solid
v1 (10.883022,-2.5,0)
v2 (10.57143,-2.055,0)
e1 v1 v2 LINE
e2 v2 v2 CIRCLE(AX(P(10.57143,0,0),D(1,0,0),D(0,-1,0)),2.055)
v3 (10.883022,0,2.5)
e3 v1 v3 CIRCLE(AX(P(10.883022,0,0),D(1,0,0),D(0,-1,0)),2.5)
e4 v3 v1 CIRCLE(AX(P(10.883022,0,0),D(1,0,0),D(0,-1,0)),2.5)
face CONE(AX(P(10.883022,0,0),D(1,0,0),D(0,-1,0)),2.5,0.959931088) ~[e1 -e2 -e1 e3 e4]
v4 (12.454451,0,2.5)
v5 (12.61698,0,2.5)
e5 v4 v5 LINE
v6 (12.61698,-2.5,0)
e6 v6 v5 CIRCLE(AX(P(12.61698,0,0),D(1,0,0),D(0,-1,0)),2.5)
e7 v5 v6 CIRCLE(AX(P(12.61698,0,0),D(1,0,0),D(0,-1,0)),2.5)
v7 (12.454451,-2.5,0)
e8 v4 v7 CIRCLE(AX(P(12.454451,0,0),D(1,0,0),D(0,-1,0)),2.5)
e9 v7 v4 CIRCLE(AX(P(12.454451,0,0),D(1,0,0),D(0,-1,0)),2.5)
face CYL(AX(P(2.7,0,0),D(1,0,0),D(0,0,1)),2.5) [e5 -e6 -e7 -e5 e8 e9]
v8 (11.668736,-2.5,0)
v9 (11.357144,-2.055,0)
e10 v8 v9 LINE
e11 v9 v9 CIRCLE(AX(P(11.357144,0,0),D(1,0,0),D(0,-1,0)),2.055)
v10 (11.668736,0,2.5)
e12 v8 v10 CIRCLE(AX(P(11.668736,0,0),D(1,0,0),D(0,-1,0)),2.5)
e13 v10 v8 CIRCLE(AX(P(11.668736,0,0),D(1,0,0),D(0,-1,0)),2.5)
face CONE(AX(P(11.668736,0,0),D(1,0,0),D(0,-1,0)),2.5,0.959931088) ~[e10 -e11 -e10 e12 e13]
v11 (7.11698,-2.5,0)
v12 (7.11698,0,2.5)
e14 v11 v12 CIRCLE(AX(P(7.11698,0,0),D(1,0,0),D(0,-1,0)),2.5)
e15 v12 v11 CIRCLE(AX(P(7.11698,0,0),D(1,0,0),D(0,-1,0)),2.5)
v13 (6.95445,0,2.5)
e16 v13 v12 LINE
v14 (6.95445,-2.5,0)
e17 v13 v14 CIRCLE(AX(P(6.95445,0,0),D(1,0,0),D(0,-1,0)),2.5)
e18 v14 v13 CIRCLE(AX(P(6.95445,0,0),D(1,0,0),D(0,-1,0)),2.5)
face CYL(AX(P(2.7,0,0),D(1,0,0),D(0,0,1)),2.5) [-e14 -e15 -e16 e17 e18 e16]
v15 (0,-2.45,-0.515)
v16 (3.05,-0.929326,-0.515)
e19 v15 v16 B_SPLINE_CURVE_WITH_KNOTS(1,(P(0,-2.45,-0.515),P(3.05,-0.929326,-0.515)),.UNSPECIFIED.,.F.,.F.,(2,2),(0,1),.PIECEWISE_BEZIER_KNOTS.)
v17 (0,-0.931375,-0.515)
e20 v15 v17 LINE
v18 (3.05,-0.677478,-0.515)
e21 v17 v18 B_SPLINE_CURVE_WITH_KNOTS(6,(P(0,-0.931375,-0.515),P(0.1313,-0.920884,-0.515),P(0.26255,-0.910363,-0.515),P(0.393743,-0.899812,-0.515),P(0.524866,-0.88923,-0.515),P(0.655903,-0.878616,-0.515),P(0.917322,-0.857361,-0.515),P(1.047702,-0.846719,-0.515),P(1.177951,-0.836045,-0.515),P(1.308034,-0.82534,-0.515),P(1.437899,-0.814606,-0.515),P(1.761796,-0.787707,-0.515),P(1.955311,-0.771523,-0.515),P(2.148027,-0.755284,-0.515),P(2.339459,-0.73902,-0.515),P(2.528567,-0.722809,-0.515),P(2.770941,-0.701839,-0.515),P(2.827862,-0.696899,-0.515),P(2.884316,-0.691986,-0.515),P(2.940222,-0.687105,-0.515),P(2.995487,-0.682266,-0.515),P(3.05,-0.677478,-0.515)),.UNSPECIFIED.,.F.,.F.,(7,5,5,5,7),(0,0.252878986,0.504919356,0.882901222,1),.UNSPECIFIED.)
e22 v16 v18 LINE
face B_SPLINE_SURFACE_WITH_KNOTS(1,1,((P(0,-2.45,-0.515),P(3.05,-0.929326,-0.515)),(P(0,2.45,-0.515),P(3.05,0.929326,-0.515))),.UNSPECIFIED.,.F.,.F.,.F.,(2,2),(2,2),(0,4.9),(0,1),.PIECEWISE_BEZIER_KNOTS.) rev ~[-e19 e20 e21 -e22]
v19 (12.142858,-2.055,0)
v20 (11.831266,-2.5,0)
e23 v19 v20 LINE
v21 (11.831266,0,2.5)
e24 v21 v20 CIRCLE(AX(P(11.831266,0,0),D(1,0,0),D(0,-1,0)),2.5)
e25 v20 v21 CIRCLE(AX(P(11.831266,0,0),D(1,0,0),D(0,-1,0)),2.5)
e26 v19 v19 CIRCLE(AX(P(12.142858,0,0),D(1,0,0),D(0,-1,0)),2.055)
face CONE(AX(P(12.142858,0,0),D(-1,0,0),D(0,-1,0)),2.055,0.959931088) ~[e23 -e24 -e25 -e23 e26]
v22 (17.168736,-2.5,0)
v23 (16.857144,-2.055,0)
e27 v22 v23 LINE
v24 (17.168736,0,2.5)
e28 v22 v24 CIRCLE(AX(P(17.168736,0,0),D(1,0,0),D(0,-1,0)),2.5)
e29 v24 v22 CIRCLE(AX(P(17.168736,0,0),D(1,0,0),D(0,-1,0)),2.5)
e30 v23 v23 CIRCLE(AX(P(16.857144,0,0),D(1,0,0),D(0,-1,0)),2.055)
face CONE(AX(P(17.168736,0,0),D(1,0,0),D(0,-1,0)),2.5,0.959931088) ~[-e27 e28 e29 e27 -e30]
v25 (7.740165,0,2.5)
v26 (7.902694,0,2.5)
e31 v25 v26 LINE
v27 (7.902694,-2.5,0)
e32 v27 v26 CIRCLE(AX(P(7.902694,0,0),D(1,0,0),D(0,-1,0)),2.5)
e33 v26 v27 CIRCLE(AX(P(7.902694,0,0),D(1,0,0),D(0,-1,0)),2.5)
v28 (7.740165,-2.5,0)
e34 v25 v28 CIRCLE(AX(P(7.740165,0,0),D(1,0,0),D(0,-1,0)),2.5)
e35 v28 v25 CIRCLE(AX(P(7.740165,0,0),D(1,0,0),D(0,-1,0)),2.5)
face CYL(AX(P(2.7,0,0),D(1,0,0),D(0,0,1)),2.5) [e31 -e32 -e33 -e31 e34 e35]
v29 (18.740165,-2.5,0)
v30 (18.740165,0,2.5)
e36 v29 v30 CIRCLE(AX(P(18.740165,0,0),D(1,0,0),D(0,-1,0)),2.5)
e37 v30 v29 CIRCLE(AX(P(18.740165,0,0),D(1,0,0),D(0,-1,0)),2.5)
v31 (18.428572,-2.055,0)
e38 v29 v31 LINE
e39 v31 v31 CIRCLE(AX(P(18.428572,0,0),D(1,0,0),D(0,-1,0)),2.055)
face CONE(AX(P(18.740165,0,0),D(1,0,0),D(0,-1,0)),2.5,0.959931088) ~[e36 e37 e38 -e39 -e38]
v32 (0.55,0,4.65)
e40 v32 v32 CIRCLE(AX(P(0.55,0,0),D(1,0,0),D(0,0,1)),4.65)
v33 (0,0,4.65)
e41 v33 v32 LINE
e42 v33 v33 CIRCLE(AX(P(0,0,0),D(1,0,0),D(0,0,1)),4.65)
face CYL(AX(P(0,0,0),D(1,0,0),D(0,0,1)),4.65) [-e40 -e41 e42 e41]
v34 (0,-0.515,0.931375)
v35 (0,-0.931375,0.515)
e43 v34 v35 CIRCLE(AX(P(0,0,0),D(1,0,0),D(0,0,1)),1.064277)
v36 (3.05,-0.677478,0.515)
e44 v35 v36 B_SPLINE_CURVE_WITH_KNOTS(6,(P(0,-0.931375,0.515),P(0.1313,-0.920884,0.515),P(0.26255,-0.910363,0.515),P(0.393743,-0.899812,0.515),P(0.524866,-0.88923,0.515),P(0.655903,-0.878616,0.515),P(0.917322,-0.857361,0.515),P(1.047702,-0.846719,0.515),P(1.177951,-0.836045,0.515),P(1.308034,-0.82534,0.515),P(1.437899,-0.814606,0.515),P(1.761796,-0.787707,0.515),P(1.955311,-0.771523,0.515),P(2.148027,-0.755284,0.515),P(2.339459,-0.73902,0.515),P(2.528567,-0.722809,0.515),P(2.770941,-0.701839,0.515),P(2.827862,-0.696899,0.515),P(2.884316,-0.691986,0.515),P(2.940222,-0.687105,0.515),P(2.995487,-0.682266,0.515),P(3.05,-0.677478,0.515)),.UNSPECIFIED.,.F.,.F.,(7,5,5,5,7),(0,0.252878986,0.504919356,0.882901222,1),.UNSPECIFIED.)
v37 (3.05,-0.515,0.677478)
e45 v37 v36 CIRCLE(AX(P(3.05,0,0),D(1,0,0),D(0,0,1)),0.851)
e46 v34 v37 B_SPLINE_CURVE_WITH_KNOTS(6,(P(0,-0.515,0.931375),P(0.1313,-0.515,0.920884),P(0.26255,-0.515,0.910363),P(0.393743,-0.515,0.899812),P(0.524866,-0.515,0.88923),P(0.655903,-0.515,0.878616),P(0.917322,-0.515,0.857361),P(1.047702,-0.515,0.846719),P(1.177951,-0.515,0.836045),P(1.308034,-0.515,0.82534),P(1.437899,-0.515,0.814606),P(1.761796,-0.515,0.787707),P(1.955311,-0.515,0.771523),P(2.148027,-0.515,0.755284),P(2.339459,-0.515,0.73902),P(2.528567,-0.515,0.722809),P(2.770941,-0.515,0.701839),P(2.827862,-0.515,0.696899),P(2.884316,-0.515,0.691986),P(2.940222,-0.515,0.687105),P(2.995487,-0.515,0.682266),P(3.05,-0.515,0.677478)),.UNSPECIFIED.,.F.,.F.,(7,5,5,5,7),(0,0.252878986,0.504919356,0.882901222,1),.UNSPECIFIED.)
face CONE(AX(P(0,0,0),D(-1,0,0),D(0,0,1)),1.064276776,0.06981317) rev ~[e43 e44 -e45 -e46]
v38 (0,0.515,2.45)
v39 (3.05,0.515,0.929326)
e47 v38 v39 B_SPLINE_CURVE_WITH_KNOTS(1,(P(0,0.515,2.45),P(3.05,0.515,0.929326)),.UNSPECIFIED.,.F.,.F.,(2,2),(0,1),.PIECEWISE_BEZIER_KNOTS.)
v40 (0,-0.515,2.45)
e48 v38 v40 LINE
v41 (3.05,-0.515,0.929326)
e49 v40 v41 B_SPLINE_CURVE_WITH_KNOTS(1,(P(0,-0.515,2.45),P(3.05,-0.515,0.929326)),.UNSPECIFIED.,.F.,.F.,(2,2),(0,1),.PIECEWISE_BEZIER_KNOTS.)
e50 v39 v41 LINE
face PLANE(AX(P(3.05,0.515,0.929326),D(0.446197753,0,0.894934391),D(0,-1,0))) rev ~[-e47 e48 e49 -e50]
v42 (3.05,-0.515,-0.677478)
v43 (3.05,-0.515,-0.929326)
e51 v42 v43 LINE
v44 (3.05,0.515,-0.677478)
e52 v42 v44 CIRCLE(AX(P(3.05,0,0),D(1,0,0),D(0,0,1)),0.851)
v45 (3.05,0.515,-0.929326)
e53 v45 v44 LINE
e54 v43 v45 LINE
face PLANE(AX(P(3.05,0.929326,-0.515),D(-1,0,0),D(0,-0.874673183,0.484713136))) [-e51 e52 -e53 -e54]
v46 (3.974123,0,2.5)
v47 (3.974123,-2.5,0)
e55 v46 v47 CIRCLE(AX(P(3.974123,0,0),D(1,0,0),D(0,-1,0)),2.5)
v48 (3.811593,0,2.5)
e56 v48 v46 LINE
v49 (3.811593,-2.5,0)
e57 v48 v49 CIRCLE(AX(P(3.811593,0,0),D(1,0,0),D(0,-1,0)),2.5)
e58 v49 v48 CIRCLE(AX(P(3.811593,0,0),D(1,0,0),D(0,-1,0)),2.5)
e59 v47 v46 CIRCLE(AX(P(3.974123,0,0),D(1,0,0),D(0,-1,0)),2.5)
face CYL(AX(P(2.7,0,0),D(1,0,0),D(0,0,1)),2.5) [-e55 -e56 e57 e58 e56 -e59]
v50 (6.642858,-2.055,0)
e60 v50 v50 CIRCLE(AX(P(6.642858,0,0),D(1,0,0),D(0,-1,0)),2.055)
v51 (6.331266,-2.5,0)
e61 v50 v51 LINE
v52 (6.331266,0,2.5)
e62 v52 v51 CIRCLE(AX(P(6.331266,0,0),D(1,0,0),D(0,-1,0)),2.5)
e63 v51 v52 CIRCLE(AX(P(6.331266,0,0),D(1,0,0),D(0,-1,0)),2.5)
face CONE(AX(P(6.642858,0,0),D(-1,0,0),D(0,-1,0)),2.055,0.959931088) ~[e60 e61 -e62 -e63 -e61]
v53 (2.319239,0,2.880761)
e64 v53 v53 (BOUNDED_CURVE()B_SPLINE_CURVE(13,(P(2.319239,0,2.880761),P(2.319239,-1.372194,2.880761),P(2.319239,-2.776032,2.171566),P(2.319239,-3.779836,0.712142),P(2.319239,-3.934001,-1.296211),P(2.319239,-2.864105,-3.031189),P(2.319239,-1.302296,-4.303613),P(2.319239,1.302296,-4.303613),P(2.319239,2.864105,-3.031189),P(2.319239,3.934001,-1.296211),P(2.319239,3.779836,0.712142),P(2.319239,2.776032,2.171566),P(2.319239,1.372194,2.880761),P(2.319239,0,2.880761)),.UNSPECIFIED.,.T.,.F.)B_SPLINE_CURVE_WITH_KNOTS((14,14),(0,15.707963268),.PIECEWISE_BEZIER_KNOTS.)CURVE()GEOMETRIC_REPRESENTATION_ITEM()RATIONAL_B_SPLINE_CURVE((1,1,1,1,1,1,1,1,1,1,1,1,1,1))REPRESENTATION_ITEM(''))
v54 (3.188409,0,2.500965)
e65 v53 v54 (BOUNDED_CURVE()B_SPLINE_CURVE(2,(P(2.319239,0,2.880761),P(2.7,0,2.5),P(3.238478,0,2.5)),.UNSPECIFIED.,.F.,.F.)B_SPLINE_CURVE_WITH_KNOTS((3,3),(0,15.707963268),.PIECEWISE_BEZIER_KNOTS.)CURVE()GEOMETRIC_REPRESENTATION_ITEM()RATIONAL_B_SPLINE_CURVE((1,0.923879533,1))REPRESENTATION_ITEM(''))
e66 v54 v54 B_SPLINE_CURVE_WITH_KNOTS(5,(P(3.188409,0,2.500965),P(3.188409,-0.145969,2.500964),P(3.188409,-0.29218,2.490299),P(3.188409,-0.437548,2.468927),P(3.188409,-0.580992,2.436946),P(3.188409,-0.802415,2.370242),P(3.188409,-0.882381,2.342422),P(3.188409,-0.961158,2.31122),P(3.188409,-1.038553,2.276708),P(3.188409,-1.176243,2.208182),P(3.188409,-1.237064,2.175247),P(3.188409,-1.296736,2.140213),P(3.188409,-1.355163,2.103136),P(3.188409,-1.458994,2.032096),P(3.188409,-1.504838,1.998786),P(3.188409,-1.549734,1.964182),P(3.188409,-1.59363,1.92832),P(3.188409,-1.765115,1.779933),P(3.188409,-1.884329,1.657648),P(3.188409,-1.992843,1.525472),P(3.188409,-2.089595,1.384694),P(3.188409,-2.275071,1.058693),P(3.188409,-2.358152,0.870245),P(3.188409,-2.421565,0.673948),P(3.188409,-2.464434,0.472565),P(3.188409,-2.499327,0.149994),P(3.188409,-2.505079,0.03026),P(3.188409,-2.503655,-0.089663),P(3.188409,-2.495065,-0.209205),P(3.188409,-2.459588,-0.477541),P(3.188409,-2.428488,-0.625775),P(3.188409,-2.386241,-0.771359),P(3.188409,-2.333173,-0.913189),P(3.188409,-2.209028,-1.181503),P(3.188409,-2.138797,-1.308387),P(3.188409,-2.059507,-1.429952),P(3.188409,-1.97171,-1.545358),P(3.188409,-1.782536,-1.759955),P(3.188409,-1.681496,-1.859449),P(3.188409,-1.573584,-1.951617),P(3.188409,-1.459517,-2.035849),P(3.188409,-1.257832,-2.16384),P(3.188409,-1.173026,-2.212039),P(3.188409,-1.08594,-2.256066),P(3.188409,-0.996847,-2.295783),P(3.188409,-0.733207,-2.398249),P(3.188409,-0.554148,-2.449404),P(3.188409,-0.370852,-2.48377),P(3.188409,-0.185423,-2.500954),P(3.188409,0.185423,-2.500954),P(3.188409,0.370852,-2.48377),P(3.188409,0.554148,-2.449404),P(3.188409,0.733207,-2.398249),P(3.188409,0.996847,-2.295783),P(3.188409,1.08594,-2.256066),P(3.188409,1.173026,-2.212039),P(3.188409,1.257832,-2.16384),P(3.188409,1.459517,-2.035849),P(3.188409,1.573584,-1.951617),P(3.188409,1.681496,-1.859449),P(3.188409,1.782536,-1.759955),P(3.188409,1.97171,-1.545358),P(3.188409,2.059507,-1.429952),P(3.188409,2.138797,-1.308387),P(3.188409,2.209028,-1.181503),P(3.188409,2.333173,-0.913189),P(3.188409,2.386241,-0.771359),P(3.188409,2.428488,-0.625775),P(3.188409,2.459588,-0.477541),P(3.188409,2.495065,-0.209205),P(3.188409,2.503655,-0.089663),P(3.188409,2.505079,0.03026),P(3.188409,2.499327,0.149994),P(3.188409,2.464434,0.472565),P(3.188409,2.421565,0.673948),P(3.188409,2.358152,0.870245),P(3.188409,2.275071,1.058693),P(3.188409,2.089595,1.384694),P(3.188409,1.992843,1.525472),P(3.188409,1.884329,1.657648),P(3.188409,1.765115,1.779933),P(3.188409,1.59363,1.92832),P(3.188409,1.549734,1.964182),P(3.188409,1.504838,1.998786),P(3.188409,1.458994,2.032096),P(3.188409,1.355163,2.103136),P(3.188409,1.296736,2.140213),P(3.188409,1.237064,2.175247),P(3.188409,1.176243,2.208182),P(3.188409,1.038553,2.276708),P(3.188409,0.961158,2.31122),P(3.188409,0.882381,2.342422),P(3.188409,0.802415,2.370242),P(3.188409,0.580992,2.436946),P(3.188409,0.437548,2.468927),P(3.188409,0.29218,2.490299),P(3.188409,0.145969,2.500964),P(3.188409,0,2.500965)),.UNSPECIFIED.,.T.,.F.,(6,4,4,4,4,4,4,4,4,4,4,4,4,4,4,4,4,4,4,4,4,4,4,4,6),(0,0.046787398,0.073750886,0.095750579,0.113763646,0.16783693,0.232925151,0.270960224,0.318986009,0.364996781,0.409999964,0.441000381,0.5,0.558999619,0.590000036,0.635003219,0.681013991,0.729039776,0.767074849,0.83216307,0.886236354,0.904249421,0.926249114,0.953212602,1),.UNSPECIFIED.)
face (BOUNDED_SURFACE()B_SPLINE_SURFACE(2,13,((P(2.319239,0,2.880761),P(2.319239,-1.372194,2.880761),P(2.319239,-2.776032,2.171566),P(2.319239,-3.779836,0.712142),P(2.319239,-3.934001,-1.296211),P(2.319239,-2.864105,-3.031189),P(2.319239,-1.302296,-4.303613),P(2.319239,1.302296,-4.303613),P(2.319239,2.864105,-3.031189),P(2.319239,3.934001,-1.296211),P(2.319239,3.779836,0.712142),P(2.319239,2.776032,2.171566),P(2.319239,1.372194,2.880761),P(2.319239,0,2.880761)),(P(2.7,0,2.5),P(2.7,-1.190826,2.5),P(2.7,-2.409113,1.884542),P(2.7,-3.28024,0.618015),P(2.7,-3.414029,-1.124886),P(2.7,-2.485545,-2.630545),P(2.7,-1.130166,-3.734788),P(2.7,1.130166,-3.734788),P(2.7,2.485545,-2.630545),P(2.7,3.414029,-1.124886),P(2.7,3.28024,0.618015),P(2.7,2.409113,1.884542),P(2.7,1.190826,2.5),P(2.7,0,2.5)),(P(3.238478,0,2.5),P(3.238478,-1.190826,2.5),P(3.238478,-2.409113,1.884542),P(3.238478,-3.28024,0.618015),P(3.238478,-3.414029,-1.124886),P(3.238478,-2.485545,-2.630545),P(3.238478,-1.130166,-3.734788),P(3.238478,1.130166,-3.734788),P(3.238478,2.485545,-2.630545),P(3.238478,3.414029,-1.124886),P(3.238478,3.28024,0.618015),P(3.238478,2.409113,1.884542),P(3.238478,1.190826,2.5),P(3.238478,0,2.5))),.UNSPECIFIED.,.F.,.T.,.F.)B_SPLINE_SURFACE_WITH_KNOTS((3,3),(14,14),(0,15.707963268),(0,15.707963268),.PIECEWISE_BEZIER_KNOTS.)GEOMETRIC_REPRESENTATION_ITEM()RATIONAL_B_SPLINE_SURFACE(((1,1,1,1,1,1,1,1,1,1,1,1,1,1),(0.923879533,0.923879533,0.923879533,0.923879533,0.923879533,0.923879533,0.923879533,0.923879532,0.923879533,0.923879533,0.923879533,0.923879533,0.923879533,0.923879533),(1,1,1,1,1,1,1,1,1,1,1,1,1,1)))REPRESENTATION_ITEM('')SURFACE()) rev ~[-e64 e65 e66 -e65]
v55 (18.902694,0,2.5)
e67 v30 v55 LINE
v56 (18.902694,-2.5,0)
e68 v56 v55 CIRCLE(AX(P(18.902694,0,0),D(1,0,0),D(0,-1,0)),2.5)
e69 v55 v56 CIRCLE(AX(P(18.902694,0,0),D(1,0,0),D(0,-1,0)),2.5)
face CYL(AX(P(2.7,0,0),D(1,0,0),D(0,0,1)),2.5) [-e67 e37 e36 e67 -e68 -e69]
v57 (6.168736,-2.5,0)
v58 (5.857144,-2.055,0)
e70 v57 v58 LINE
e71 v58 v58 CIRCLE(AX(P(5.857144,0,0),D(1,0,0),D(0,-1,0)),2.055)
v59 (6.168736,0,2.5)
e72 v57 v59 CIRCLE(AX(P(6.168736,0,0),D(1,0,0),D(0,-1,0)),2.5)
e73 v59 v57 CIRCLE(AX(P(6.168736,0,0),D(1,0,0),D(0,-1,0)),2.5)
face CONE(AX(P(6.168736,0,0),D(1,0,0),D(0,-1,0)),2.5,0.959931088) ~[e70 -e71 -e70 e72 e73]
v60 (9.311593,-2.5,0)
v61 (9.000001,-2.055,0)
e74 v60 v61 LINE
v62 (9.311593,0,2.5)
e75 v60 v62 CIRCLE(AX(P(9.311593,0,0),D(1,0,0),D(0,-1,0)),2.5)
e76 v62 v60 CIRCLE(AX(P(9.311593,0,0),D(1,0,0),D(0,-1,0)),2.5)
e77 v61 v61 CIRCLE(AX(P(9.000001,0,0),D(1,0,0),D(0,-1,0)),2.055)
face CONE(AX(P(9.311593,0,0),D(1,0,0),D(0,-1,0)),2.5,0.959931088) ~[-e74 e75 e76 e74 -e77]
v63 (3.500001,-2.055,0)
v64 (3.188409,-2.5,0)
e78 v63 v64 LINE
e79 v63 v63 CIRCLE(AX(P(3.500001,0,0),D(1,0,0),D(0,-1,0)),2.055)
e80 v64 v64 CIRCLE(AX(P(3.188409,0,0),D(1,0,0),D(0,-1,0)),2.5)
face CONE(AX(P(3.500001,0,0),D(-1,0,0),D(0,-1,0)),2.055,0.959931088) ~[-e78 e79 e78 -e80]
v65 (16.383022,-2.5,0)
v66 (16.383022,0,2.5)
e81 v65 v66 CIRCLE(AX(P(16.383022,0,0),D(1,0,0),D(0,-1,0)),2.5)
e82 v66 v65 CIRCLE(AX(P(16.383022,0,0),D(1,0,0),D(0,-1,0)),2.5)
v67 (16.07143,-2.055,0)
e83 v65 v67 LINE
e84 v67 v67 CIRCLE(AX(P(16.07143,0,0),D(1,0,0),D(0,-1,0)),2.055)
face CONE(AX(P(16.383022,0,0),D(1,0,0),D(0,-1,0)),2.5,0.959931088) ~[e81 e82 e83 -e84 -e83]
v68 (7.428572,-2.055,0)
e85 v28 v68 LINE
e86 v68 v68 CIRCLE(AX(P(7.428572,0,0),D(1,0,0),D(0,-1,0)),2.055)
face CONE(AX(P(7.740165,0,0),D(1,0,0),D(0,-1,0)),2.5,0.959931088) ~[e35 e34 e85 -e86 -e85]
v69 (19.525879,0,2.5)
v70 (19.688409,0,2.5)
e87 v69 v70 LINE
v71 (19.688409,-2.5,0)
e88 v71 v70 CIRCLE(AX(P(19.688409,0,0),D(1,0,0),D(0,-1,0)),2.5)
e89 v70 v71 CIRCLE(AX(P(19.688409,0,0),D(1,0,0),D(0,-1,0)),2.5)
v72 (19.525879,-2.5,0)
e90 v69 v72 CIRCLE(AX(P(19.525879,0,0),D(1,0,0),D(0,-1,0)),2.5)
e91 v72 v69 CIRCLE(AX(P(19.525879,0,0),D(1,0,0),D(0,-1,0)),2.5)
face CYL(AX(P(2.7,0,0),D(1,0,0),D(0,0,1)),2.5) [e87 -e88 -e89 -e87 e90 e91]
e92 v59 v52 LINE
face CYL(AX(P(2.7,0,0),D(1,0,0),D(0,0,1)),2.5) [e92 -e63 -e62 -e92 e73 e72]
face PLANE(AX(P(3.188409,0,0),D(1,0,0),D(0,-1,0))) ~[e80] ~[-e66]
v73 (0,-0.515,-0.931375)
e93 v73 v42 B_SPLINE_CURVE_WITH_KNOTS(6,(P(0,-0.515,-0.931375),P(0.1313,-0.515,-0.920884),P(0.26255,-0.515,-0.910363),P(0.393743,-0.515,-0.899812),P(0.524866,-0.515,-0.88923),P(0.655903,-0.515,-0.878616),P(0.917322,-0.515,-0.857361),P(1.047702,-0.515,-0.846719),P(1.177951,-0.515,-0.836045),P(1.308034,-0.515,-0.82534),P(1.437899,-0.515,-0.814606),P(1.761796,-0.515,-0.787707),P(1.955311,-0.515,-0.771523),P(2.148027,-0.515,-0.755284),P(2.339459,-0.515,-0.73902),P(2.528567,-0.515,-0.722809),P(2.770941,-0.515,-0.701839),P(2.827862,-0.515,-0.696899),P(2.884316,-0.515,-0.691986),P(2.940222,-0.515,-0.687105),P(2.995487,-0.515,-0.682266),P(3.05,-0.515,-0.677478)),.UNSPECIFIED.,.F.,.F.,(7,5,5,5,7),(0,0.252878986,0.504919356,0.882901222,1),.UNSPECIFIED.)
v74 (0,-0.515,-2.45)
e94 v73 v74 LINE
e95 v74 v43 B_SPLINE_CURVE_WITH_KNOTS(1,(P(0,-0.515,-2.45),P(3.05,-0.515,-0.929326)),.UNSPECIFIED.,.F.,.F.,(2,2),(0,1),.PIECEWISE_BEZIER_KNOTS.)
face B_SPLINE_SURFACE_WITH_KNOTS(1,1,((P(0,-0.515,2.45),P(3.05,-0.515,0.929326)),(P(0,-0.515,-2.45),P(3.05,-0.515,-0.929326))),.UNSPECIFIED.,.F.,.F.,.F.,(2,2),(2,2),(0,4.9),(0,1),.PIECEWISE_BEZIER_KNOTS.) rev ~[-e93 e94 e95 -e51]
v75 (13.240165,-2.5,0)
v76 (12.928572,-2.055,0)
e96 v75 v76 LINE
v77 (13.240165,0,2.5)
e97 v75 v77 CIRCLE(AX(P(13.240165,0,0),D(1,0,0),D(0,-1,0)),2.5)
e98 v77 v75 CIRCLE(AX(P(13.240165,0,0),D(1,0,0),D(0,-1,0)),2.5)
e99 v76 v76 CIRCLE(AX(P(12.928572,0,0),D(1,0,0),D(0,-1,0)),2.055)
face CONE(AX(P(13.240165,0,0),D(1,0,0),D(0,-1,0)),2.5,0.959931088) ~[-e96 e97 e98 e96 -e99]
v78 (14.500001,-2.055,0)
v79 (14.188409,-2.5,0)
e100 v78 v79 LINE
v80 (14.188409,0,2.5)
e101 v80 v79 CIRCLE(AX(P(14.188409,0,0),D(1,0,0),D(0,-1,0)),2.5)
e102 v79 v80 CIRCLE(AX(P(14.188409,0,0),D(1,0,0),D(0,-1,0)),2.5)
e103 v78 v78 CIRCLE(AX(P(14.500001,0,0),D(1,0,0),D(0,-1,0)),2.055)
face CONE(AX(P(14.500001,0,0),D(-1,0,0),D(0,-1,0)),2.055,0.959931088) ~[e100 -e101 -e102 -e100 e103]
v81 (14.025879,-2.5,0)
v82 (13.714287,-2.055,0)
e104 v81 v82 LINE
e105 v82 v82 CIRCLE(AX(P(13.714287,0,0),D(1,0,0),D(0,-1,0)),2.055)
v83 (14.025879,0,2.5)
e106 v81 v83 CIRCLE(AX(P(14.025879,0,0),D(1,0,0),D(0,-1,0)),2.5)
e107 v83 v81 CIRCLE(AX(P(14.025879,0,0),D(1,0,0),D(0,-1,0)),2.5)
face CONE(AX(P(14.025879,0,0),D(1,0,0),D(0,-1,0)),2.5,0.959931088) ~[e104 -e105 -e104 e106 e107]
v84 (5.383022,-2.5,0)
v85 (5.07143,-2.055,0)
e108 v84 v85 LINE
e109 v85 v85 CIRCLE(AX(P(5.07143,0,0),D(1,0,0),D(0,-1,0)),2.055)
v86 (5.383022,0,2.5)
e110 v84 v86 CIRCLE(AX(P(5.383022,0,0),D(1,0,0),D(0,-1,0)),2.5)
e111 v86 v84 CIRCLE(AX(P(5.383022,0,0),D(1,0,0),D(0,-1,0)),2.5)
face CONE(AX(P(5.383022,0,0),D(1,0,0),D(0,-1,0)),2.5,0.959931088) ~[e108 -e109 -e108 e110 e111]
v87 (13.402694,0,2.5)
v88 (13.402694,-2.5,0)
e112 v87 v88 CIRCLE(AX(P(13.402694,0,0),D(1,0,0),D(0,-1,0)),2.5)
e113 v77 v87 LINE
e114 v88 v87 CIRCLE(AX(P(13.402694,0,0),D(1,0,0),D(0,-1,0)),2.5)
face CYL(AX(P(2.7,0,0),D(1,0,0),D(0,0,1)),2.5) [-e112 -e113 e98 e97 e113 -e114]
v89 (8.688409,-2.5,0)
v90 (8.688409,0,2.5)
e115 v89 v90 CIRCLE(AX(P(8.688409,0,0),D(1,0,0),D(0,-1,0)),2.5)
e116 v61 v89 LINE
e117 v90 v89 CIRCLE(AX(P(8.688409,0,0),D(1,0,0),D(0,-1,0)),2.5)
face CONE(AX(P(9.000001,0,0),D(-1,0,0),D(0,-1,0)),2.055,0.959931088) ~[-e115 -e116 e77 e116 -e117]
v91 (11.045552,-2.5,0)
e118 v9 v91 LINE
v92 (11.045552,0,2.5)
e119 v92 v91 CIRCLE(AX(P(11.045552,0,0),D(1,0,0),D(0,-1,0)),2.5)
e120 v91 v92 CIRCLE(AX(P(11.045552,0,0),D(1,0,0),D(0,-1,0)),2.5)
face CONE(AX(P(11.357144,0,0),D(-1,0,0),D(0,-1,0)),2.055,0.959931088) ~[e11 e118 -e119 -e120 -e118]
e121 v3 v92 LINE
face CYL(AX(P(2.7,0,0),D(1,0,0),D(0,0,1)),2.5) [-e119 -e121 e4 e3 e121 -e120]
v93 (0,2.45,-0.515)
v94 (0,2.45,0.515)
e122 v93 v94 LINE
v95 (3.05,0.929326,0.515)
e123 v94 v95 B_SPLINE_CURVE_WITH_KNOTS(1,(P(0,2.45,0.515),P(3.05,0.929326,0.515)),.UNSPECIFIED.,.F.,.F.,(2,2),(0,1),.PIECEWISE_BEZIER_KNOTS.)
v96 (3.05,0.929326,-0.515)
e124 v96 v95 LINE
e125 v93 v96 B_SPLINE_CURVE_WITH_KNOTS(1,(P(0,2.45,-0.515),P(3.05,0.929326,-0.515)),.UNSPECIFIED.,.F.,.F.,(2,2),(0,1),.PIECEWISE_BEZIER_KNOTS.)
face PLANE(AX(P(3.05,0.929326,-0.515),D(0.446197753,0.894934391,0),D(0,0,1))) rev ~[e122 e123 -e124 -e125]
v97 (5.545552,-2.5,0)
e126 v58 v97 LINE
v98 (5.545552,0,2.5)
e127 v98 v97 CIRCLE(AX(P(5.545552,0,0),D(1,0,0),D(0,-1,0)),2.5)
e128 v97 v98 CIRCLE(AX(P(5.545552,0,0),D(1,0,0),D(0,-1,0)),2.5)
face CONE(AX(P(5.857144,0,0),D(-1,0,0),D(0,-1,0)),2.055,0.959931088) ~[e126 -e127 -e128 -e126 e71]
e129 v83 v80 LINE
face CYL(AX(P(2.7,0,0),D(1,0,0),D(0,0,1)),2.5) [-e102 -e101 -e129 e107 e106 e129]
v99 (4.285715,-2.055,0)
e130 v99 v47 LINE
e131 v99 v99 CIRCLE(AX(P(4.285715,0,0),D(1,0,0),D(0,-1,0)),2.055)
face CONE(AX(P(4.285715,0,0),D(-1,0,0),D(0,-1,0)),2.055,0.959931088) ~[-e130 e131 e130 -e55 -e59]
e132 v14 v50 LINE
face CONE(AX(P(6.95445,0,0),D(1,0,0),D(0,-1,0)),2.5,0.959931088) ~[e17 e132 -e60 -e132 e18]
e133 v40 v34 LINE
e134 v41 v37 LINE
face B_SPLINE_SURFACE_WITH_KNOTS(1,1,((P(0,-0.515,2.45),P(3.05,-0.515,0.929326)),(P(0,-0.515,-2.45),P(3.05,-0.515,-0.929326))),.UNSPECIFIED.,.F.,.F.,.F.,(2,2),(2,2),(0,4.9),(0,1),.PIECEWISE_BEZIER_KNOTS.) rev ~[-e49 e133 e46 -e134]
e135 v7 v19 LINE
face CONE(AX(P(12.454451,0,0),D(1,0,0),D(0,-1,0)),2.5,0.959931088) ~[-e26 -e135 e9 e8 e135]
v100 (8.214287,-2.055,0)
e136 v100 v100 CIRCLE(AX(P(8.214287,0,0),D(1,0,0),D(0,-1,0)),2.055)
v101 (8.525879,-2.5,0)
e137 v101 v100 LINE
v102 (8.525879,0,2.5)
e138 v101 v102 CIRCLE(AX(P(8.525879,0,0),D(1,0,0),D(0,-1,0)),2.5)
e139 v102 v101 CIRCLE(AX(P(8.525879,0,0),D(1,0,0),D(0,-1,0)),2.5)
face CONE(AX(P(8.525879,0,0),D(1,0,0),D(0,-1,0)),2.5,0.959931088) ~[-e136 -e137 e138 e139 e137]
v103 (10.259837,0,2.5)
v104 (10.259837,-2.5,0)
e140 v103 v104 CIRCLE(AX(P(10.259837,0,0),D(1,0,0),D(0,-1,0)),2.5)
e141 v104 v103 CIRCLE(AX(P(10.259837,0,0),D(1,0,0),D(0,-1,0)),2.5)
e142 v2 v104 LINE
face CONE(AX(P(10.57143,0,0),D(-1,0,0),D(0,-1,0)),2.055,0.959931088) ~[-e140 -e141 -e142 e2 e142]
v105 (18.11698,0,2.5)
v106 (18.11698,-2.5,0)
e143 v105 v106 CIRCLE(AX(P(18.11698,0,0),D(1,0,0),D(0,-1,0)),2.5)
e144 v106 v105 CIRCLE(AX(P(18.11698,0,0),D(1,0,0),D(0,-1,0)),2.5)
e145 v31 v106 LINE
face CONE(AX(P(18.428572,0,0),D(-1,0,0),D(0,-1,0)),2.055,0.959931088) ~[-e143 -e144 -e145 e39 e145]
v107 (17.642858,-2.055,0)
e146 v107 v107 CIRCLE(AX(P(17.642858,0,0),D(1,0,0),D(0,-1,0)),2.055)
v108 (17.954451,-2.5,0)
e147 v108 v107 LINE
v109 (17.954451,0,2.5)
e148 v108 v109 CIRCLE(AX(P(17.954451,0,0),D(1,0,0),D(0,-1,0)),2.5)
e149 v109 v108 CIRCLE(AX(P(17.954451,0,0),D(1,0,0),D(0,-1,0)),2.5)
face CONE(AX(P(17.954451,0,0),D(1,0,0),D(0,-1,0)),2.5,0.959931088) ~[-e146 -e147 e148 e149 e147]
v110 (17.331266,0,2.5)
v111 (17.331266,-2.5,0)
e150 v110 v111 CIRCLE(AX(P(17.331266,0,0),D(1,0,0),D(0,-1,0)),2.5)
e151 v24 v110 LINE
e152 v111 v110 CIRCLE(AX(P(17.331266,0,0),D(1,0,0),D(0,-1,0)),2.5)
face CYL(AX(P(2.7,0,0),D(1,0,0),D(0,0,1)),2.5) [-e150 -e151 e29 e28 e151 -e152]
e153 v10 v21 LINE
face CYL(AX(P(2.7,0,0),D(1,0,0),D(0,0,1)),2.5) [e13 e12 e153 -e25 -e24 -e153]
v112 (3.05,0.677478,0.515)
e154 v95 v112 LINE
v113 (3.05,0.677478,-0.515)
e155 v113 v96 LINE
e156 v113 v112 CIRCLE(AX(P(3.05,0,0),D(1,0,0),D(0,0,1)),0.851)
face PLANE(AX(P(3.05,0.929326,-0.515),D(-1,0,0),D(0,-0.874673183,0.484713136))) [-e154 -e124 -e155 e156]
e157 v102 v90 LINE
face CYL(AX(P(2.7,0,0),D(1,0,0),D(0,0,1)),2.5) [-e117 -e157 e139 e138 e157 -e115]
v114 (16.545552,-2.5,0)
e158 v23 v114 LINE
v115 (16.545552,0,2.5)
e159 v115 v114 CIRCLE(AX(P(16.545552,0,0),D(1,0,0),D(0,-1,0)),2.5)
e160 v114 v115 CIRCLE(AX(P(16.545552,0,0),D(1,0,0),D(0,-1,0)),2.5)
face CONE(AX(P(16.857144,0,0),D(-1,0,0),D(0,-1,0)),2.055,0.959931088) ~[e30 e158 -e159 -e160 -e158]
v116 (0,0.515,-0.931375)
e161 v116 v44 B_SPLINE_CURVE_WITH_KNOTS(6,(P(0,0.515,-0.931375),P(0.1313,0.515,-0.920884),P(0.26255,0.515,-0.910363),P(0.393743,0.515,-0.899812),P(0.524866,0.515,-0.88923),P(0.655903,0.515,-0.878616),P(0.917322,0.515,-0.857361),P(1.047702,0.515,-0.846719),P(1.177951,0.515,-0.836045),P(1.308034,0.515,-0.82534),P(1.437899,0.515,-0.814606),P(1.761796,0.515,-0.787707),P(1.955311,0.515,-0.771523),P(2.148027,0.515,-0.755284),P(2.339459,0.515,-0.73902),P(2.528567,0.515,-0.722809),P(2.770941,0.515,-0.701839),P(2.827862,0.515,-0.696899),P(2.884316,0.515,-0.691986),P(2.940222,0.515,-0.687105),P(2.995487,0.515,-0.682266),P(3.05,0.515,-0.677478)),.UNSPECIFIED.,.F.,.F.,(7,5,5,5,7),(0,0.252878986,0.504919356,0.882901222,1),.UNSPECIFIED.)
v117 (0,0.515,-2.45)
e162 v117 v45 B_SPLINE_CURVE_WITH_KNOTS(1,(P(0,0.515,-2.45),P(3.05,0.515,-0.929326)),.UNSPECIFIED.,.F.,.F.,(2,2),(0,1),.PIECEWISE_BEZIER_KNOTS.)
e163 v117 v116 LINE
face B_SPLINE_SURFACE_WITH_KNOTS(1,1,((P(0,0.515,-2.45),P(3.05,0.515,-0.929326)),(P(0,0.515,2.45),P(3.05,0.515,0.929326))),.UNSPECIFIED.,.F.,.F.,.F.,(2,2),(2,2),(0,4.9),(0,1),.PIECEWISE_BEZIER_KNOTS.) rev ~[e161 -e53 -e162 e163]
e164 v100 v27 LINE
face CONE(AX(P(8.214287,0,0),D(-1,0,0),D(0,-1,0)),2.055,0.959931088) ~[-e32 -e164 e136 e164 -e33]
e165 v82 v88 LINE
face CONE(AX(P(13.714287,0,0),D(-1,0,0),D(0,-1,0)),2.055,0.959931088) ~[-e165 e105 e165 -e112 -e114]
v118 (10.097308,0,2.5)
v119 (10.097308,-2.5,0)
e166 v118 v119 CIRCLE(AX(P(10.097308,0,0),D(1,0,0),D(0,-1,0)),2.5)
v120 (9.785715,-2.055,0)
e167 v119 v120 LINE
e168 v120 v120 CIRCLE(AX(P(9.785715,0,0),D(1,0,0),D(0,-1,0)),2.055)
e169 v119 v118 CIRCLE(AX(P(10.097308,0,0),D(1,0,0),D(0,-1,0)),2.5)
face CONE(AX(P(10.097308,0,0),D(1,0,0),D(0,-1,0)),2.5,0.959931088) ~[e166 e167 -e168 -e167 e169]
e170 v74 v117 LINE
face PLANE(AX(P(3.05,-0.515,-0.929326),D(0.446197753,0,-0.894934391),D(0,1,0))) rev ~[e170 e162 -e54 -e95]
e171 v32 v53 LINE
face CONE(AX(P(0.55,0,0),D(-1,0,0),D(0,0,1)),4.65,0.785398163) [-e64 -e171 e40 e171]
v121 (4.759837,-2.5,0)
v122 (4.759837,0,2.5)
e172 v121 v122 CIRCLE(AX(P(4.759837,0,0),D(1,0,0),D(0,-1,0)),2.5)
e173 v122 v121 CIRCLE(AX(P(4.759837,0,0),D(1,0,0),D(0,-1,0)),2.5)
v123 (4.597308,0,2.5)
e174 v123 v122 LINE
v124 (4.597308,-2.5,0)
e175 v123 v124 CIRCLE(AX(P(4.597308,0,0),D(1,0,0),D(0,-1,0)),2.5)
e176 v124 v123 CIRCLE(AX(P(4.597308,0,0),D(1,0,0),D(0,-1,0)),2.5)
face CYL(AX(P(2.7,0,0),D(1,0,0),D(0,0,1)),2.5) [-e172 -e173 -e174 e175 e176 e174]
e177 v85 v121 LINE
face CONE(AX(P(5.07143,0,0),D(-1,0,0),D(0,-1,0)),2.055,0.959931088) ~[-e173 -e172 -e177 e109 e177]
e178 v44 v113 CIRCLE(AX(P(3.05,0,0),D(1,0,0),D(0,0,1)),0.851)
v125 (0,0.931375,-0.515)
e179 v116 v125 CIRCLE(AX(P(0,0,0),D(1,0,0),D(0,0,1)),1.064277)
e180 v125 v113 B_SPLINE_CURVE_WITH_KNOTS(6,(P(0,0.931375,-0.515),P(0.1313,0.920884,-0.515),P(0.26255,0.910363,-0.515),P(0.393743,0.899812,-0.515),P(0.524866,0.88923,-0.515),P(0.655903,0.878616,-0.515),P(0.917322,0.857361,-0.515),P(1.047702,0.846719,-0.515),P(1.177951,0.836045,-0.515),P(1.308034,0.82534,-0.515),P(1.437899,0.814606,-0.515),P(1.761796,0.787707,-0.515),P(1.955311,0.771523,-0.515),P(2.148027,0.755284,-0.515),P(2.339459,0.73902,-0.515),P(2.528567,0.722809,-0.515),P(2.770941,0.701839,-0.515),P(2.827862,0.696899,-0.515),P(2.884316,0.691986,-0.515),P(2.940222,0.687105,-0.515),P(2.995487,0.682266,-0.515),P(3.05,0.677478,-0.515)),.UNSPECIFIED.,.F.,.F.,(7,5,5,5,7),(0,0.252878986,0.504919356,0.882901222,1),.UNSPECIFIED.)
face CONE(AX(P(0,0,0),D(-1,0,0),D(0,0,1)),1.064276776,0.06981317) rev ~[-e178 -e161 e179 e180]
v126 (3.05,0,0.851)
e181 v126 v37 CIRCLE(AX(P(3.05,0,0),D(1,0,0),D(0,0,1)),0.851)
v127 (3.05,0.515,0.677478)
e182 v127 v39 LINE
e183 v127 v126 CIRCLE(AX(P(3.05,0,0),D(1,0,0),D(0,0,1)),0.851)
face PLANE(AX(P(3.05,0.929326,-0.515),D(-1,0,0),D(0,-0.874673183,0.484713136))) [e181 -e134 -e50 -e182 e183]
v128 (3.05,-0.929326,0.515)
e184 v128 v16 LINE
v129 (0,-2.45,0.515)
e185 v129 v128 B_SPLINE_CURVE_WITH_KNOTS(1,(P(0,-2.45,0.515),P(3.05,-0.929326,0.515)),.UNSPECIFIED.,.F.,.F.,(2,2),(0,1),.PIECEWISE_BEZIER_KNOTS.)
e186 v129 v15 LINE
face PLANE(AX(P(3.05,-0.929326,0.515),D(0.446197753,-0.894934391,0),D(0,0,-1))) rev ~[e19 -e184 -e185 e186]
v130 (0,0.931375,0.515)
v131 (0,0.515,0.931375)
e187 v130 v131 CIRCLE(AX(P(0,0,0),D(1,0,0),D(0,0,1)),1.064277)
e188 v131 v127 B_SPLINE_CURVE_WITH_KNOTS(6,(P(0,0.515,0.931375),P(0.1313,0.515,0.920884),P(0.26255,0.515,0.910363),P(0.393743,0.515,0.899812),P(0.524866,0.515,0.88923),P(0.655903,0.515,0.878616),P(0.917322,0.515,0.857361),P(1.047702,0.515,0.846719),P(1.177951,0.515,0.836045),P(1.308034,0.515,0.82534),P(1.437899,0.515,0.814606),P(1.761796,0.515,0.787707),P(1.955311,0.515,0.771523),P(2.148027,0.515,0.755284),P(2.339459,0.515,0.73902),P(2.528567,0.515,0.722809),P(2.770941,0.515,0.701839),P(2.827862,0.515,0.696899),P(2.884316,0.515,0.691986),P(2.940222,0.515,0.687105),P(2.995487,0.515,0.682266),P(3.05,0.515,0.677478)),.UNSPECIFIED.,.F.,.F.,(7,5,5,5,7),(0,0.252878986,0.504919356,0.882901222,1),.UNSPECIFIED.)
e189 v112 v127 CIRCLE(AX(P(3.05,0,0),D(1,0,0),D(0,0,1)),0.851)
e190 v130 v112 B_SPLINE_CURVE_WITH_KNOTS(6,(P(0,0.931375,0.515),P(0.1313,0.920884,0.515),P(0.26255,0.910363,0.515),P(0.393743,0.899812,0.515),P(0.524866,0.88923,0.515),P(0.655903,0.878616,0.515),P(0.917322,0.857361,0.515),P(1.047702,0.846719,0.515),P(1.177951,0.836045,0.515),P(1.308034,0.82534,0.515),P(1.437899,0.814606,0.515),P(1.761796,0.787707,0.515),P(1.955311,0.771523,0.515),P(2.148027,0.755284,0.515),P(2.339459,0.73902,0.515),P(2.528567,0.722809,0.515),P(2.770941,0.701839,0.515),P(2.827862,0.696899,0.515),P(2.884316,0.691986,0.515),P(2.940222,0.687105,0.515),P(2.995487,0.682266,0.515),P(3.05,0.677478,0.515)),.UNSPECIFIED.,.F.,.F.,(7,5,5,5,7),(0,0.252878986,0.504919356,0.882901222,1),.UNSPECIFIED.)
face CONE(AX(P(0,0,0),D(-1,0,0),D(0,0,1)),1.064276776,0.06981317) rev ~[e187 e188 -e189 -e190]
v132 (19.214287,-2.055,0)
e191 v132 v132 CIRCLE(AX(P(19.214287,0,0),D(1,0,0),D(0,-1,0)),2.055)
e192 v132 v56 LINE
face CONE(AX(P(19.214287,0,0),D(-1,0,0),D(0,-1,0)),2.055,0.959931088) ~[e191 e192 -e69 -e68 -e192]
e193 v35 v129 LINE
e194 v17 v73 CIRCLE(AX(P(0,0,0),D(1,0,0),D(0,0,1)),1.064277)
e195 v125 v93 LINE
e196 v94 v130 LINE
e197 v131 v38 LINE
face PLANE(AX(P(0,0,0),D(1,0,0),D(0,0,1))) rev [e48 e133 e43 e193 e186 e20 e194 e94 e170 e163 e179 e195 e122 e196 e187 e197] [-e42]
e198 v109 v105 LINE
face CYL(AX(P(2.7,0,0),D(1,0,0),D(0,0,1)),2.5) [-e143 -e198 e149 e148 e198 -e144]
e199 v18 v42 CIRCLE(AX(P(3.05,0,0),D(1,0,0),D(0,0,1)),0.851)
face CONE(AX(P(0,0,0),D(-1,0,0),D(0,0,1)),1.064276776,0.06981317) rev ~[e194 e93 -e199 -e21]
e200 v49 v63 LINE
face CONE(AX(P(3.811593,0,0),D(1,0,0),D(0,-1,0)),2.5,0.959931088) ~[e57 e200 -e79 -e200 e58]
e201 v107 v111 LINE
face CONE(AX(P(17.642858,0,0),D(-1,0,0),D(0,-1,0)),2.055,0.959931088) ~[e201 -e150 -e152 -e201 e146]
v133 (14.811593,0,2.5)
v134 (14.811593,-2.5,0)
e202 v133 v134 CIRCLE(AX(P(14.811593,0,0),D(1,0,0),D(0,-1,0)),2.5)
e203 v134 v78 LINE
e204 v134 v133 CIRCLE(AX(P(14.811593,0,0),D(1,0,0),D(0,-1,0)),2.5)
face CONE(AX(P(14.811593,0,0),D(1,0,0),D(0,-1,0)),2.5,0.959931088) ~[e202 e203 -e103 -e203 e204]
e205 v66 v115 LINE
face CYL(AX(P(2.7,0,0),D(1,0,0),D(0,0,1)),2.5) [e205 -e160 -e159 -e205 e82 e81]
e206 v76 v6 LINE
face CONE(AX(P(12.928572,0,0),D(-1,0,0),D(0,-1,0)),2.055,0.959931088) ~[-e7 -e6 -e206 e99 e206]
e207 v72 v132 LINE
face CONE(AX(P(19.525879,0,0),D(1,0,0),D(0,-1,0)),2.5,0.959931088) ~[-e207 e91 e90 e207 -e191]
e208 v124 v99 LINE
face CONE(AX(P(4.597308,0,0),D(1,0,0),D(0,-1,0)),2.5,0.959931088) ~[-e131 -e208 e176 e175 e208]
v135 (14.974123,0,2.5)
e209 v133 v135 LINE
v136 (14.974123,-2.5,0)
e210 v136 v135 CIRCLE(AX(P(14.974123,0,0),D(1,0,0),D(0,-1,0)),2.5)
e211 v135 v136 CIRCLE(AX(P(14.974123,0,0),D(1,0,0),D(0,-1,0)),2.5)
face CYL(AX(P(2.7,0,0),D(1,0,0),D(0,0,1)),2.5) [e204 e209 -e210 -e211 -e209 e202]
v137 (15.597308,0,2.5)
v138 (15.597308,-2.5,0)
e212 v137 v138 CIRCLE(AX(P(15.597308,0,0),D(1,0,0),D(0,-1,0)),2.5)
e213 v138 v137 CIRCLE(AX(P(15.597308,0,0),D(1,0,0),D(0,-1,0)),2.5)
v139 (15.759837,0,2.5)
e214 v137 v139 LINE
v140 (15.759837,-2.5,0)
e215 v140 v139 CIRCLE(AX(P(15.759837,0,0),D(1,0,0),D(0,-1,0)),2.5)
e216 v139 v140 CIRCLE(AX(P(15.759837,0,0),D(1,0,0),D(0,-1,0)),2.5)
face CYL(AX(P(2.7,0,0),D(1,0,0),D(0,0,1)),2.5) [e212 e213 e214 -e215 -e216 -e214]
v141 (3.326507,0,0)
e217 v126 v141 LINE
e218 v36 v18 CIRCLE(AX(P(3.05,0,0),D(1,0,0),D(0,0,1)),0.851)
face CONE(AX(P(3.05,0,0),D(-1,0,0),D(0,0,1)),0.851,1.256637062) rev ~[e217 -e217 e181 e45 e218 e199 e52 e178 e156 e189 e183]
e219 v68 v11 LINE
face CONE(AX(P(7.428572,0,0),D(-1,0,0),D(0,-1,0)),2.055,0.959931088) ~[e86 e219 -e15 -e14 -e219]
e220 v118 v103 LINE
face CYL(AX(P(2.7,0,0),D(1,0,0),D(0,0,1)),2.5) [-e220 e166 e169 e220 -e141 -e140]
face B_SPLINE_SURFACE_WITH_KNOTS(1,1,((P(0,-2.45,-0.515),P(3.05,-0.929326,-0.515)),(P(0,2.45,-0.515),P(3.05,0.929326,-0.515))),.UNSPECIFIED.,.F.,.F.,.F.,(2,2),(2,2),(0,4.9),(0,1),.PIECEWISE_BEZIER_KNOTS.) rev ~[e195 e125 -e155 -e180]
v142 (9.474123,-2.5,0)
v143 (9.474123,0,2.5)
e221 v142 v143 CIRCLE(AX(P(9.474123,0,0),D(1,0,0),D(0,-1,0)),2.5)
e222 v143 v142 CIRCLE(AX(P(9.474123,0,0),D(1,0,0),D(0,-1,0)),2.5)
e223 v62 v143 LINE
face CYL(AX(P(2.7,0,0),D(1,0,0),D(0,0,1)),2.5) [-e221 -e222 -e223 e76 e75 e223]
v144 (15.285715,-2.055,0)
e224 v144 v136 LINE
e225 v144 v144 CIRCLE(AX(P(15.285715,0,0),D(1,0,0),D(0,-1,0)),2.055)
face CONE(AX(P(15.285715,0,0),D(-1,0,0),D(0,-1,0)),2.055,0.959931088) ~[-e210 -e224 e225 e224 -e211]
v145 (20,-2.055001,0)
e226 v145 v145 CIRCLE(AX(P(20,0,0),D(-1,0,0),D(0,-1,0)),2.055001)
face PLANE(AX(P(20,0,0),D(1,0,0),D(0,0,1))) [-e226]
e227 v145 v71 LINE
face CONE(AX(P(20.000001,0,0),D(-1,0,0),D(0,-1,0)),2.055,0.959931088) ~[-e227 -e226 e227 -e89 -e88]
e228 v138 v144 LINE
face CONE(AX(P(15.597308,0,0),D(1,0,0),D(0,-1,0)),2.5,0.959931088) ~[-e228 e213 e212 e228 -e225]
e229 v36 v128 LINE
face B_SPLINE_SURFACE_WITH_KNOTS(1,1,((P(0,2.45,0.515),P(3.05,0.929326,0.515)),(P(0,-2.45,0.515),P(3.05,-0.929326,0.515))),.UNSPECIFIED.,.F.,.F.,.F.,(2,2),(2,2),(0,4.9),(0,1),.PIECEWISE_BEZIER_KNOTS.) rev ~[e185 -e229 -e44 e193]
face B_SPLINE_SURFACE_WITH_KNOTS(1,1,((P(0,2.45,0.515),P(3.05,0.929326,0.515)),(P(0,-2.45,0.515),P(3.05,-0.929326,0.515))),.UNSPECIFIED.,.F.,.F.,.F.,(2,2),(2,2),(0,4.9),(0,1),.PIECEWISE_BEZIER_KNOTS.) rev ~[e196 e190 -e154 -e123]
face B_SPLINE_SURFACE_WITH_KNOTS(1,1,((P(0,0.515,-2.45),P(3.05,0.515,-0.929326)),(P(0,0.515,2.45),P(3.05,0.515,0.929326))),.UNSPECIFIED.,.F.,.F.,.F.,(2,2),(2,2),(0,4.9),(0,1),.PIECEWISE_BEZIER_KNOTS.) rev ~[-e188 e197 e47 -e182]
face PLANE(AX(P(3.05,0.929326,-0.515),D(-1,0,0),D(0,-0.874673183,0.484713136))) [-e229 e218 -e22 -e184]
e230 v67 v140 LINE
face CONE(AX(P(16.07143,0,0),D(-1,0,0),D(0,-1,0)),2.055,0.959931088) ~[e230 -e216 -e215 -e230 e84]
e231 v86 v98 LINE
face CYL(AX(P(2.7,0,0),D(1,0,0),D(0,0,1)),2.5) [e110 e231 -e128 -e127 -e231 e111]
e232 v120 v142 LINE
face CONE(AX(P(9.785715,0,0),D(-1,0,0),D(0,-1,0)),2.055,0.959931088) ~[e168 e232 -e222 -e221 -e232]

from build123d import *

# Parameters (mm, degrees)
FILLET1_R       = 1.3
RECPAT_COUNT    = 2
RECPAT_ANGLE    = 90
THDSCHPAT_COUNT = 22
THDSCHPAT_PITCH = 0.785714286


with BuildPart() as part:
    # BodySke → Base-Revolve (revolve)
    with BuildSketch(Plane.XY, mode=Mode.PRIVATE) as base_revolve_sk:
        Polygon((0, 0), (0, 4.65), (0.55, 4.65), (2.7, 2.5), (20, 2.5), (20, 0), align=None)
    revolve(base_revolve_sk.sketch.rotate(Axis((-6.35, 0, 0), (1, 0, 0)), 90), axis=Axis((-6.35, 0, 0), (1, 0, 0)))

    # Fillet1
    fillet1_edges = [part.edges().sort_by_distance(p)[0] for p in [
        (2.7, 0, -2.5),
    ]]
    fillet(fillet1_edges, radius=FILLET1_R)

    # Sketch3 → Recess section 0
    with BuildSketch(Plane.ZY):
        with BuildLine():
            Line((-0.515, 2.45), (0.515, 2.45))
            Line((0.515, 2.45), (0.515, -2.45))
            Line((0.515, -2.45), (-0.515, -2.45))
            Line((-0.515, -2.45), (-0.515, 2.45))
        make_face()
    # Sketch4 → Recess section 1
    with BuildSketch(Plane.ZY.offset(-3.05)):
        with BuildLine():
            Line((-0.515, 0.92932635), (0.515, 0.92932635))
            Line((0.515, 0.92932635), (0.515, -0.92932635))
            Line((0.515, -0.92932635), (-0.515, -0.92932635))
            Line((-0.515, -0.92932635), (-0.515, 0.92932635))
        make_face()
    recess = loft(mode=Mode.SUBTRACT)

    # RecPat: Recess ×2 about axis
    recpat_axis = Axis((0, 0, 0), (1, 0, 0))
    for i in range(1, RECPAT_COUNT):
        add(recess.rotate(recpat_axis, i * RECPAT_ANGLE / (RECPAT_COUNT - 1)), mode=Mode.SUBTRACT)

    # RecCorSke → RecessCore (revolve, cut)
    with BuildSketch(Plane.XY, mode=Mode.PRIVATE) as recesscore_sk:
        Polygon((0, 0), (0, 1.064276776), (3.05, 0.851), (3.326506661, 0), align=None)
    revolve(recesscore_sk.sketch.rotate(Axis((-3.175, 0, 0), (1, 0, 0)), 90), axis=Axis((-3.175, 0, 0), (1, 0, 0)), mode=Mode.SUBTRACT)

    # ThdSchSke → ThreadSchematic (revolve, cut)
    with BuildSketch(Plane.XY):
        Polygon((3.500001, -2.055), (3.188408645, -2.5), (3.188408645, -3.125), (3.811593355, -3.125), (3.811593355, -2.5), align=None)
    threadschematic = revolve(axis=Axis((-3.175, 0, 0), (1, 0, 0)), mode=Mode.SUBTRACT)

    # ThdSchPat: ThreadSchematic ×22
    with Locations(*[(i * THDSCHPAT_PITCH, 0, 0) for i in range(1, THDSCHPAT_COUNT)]):
        add(threadschematic, mode=Mode.SUBTRACT)


solid = part.part
